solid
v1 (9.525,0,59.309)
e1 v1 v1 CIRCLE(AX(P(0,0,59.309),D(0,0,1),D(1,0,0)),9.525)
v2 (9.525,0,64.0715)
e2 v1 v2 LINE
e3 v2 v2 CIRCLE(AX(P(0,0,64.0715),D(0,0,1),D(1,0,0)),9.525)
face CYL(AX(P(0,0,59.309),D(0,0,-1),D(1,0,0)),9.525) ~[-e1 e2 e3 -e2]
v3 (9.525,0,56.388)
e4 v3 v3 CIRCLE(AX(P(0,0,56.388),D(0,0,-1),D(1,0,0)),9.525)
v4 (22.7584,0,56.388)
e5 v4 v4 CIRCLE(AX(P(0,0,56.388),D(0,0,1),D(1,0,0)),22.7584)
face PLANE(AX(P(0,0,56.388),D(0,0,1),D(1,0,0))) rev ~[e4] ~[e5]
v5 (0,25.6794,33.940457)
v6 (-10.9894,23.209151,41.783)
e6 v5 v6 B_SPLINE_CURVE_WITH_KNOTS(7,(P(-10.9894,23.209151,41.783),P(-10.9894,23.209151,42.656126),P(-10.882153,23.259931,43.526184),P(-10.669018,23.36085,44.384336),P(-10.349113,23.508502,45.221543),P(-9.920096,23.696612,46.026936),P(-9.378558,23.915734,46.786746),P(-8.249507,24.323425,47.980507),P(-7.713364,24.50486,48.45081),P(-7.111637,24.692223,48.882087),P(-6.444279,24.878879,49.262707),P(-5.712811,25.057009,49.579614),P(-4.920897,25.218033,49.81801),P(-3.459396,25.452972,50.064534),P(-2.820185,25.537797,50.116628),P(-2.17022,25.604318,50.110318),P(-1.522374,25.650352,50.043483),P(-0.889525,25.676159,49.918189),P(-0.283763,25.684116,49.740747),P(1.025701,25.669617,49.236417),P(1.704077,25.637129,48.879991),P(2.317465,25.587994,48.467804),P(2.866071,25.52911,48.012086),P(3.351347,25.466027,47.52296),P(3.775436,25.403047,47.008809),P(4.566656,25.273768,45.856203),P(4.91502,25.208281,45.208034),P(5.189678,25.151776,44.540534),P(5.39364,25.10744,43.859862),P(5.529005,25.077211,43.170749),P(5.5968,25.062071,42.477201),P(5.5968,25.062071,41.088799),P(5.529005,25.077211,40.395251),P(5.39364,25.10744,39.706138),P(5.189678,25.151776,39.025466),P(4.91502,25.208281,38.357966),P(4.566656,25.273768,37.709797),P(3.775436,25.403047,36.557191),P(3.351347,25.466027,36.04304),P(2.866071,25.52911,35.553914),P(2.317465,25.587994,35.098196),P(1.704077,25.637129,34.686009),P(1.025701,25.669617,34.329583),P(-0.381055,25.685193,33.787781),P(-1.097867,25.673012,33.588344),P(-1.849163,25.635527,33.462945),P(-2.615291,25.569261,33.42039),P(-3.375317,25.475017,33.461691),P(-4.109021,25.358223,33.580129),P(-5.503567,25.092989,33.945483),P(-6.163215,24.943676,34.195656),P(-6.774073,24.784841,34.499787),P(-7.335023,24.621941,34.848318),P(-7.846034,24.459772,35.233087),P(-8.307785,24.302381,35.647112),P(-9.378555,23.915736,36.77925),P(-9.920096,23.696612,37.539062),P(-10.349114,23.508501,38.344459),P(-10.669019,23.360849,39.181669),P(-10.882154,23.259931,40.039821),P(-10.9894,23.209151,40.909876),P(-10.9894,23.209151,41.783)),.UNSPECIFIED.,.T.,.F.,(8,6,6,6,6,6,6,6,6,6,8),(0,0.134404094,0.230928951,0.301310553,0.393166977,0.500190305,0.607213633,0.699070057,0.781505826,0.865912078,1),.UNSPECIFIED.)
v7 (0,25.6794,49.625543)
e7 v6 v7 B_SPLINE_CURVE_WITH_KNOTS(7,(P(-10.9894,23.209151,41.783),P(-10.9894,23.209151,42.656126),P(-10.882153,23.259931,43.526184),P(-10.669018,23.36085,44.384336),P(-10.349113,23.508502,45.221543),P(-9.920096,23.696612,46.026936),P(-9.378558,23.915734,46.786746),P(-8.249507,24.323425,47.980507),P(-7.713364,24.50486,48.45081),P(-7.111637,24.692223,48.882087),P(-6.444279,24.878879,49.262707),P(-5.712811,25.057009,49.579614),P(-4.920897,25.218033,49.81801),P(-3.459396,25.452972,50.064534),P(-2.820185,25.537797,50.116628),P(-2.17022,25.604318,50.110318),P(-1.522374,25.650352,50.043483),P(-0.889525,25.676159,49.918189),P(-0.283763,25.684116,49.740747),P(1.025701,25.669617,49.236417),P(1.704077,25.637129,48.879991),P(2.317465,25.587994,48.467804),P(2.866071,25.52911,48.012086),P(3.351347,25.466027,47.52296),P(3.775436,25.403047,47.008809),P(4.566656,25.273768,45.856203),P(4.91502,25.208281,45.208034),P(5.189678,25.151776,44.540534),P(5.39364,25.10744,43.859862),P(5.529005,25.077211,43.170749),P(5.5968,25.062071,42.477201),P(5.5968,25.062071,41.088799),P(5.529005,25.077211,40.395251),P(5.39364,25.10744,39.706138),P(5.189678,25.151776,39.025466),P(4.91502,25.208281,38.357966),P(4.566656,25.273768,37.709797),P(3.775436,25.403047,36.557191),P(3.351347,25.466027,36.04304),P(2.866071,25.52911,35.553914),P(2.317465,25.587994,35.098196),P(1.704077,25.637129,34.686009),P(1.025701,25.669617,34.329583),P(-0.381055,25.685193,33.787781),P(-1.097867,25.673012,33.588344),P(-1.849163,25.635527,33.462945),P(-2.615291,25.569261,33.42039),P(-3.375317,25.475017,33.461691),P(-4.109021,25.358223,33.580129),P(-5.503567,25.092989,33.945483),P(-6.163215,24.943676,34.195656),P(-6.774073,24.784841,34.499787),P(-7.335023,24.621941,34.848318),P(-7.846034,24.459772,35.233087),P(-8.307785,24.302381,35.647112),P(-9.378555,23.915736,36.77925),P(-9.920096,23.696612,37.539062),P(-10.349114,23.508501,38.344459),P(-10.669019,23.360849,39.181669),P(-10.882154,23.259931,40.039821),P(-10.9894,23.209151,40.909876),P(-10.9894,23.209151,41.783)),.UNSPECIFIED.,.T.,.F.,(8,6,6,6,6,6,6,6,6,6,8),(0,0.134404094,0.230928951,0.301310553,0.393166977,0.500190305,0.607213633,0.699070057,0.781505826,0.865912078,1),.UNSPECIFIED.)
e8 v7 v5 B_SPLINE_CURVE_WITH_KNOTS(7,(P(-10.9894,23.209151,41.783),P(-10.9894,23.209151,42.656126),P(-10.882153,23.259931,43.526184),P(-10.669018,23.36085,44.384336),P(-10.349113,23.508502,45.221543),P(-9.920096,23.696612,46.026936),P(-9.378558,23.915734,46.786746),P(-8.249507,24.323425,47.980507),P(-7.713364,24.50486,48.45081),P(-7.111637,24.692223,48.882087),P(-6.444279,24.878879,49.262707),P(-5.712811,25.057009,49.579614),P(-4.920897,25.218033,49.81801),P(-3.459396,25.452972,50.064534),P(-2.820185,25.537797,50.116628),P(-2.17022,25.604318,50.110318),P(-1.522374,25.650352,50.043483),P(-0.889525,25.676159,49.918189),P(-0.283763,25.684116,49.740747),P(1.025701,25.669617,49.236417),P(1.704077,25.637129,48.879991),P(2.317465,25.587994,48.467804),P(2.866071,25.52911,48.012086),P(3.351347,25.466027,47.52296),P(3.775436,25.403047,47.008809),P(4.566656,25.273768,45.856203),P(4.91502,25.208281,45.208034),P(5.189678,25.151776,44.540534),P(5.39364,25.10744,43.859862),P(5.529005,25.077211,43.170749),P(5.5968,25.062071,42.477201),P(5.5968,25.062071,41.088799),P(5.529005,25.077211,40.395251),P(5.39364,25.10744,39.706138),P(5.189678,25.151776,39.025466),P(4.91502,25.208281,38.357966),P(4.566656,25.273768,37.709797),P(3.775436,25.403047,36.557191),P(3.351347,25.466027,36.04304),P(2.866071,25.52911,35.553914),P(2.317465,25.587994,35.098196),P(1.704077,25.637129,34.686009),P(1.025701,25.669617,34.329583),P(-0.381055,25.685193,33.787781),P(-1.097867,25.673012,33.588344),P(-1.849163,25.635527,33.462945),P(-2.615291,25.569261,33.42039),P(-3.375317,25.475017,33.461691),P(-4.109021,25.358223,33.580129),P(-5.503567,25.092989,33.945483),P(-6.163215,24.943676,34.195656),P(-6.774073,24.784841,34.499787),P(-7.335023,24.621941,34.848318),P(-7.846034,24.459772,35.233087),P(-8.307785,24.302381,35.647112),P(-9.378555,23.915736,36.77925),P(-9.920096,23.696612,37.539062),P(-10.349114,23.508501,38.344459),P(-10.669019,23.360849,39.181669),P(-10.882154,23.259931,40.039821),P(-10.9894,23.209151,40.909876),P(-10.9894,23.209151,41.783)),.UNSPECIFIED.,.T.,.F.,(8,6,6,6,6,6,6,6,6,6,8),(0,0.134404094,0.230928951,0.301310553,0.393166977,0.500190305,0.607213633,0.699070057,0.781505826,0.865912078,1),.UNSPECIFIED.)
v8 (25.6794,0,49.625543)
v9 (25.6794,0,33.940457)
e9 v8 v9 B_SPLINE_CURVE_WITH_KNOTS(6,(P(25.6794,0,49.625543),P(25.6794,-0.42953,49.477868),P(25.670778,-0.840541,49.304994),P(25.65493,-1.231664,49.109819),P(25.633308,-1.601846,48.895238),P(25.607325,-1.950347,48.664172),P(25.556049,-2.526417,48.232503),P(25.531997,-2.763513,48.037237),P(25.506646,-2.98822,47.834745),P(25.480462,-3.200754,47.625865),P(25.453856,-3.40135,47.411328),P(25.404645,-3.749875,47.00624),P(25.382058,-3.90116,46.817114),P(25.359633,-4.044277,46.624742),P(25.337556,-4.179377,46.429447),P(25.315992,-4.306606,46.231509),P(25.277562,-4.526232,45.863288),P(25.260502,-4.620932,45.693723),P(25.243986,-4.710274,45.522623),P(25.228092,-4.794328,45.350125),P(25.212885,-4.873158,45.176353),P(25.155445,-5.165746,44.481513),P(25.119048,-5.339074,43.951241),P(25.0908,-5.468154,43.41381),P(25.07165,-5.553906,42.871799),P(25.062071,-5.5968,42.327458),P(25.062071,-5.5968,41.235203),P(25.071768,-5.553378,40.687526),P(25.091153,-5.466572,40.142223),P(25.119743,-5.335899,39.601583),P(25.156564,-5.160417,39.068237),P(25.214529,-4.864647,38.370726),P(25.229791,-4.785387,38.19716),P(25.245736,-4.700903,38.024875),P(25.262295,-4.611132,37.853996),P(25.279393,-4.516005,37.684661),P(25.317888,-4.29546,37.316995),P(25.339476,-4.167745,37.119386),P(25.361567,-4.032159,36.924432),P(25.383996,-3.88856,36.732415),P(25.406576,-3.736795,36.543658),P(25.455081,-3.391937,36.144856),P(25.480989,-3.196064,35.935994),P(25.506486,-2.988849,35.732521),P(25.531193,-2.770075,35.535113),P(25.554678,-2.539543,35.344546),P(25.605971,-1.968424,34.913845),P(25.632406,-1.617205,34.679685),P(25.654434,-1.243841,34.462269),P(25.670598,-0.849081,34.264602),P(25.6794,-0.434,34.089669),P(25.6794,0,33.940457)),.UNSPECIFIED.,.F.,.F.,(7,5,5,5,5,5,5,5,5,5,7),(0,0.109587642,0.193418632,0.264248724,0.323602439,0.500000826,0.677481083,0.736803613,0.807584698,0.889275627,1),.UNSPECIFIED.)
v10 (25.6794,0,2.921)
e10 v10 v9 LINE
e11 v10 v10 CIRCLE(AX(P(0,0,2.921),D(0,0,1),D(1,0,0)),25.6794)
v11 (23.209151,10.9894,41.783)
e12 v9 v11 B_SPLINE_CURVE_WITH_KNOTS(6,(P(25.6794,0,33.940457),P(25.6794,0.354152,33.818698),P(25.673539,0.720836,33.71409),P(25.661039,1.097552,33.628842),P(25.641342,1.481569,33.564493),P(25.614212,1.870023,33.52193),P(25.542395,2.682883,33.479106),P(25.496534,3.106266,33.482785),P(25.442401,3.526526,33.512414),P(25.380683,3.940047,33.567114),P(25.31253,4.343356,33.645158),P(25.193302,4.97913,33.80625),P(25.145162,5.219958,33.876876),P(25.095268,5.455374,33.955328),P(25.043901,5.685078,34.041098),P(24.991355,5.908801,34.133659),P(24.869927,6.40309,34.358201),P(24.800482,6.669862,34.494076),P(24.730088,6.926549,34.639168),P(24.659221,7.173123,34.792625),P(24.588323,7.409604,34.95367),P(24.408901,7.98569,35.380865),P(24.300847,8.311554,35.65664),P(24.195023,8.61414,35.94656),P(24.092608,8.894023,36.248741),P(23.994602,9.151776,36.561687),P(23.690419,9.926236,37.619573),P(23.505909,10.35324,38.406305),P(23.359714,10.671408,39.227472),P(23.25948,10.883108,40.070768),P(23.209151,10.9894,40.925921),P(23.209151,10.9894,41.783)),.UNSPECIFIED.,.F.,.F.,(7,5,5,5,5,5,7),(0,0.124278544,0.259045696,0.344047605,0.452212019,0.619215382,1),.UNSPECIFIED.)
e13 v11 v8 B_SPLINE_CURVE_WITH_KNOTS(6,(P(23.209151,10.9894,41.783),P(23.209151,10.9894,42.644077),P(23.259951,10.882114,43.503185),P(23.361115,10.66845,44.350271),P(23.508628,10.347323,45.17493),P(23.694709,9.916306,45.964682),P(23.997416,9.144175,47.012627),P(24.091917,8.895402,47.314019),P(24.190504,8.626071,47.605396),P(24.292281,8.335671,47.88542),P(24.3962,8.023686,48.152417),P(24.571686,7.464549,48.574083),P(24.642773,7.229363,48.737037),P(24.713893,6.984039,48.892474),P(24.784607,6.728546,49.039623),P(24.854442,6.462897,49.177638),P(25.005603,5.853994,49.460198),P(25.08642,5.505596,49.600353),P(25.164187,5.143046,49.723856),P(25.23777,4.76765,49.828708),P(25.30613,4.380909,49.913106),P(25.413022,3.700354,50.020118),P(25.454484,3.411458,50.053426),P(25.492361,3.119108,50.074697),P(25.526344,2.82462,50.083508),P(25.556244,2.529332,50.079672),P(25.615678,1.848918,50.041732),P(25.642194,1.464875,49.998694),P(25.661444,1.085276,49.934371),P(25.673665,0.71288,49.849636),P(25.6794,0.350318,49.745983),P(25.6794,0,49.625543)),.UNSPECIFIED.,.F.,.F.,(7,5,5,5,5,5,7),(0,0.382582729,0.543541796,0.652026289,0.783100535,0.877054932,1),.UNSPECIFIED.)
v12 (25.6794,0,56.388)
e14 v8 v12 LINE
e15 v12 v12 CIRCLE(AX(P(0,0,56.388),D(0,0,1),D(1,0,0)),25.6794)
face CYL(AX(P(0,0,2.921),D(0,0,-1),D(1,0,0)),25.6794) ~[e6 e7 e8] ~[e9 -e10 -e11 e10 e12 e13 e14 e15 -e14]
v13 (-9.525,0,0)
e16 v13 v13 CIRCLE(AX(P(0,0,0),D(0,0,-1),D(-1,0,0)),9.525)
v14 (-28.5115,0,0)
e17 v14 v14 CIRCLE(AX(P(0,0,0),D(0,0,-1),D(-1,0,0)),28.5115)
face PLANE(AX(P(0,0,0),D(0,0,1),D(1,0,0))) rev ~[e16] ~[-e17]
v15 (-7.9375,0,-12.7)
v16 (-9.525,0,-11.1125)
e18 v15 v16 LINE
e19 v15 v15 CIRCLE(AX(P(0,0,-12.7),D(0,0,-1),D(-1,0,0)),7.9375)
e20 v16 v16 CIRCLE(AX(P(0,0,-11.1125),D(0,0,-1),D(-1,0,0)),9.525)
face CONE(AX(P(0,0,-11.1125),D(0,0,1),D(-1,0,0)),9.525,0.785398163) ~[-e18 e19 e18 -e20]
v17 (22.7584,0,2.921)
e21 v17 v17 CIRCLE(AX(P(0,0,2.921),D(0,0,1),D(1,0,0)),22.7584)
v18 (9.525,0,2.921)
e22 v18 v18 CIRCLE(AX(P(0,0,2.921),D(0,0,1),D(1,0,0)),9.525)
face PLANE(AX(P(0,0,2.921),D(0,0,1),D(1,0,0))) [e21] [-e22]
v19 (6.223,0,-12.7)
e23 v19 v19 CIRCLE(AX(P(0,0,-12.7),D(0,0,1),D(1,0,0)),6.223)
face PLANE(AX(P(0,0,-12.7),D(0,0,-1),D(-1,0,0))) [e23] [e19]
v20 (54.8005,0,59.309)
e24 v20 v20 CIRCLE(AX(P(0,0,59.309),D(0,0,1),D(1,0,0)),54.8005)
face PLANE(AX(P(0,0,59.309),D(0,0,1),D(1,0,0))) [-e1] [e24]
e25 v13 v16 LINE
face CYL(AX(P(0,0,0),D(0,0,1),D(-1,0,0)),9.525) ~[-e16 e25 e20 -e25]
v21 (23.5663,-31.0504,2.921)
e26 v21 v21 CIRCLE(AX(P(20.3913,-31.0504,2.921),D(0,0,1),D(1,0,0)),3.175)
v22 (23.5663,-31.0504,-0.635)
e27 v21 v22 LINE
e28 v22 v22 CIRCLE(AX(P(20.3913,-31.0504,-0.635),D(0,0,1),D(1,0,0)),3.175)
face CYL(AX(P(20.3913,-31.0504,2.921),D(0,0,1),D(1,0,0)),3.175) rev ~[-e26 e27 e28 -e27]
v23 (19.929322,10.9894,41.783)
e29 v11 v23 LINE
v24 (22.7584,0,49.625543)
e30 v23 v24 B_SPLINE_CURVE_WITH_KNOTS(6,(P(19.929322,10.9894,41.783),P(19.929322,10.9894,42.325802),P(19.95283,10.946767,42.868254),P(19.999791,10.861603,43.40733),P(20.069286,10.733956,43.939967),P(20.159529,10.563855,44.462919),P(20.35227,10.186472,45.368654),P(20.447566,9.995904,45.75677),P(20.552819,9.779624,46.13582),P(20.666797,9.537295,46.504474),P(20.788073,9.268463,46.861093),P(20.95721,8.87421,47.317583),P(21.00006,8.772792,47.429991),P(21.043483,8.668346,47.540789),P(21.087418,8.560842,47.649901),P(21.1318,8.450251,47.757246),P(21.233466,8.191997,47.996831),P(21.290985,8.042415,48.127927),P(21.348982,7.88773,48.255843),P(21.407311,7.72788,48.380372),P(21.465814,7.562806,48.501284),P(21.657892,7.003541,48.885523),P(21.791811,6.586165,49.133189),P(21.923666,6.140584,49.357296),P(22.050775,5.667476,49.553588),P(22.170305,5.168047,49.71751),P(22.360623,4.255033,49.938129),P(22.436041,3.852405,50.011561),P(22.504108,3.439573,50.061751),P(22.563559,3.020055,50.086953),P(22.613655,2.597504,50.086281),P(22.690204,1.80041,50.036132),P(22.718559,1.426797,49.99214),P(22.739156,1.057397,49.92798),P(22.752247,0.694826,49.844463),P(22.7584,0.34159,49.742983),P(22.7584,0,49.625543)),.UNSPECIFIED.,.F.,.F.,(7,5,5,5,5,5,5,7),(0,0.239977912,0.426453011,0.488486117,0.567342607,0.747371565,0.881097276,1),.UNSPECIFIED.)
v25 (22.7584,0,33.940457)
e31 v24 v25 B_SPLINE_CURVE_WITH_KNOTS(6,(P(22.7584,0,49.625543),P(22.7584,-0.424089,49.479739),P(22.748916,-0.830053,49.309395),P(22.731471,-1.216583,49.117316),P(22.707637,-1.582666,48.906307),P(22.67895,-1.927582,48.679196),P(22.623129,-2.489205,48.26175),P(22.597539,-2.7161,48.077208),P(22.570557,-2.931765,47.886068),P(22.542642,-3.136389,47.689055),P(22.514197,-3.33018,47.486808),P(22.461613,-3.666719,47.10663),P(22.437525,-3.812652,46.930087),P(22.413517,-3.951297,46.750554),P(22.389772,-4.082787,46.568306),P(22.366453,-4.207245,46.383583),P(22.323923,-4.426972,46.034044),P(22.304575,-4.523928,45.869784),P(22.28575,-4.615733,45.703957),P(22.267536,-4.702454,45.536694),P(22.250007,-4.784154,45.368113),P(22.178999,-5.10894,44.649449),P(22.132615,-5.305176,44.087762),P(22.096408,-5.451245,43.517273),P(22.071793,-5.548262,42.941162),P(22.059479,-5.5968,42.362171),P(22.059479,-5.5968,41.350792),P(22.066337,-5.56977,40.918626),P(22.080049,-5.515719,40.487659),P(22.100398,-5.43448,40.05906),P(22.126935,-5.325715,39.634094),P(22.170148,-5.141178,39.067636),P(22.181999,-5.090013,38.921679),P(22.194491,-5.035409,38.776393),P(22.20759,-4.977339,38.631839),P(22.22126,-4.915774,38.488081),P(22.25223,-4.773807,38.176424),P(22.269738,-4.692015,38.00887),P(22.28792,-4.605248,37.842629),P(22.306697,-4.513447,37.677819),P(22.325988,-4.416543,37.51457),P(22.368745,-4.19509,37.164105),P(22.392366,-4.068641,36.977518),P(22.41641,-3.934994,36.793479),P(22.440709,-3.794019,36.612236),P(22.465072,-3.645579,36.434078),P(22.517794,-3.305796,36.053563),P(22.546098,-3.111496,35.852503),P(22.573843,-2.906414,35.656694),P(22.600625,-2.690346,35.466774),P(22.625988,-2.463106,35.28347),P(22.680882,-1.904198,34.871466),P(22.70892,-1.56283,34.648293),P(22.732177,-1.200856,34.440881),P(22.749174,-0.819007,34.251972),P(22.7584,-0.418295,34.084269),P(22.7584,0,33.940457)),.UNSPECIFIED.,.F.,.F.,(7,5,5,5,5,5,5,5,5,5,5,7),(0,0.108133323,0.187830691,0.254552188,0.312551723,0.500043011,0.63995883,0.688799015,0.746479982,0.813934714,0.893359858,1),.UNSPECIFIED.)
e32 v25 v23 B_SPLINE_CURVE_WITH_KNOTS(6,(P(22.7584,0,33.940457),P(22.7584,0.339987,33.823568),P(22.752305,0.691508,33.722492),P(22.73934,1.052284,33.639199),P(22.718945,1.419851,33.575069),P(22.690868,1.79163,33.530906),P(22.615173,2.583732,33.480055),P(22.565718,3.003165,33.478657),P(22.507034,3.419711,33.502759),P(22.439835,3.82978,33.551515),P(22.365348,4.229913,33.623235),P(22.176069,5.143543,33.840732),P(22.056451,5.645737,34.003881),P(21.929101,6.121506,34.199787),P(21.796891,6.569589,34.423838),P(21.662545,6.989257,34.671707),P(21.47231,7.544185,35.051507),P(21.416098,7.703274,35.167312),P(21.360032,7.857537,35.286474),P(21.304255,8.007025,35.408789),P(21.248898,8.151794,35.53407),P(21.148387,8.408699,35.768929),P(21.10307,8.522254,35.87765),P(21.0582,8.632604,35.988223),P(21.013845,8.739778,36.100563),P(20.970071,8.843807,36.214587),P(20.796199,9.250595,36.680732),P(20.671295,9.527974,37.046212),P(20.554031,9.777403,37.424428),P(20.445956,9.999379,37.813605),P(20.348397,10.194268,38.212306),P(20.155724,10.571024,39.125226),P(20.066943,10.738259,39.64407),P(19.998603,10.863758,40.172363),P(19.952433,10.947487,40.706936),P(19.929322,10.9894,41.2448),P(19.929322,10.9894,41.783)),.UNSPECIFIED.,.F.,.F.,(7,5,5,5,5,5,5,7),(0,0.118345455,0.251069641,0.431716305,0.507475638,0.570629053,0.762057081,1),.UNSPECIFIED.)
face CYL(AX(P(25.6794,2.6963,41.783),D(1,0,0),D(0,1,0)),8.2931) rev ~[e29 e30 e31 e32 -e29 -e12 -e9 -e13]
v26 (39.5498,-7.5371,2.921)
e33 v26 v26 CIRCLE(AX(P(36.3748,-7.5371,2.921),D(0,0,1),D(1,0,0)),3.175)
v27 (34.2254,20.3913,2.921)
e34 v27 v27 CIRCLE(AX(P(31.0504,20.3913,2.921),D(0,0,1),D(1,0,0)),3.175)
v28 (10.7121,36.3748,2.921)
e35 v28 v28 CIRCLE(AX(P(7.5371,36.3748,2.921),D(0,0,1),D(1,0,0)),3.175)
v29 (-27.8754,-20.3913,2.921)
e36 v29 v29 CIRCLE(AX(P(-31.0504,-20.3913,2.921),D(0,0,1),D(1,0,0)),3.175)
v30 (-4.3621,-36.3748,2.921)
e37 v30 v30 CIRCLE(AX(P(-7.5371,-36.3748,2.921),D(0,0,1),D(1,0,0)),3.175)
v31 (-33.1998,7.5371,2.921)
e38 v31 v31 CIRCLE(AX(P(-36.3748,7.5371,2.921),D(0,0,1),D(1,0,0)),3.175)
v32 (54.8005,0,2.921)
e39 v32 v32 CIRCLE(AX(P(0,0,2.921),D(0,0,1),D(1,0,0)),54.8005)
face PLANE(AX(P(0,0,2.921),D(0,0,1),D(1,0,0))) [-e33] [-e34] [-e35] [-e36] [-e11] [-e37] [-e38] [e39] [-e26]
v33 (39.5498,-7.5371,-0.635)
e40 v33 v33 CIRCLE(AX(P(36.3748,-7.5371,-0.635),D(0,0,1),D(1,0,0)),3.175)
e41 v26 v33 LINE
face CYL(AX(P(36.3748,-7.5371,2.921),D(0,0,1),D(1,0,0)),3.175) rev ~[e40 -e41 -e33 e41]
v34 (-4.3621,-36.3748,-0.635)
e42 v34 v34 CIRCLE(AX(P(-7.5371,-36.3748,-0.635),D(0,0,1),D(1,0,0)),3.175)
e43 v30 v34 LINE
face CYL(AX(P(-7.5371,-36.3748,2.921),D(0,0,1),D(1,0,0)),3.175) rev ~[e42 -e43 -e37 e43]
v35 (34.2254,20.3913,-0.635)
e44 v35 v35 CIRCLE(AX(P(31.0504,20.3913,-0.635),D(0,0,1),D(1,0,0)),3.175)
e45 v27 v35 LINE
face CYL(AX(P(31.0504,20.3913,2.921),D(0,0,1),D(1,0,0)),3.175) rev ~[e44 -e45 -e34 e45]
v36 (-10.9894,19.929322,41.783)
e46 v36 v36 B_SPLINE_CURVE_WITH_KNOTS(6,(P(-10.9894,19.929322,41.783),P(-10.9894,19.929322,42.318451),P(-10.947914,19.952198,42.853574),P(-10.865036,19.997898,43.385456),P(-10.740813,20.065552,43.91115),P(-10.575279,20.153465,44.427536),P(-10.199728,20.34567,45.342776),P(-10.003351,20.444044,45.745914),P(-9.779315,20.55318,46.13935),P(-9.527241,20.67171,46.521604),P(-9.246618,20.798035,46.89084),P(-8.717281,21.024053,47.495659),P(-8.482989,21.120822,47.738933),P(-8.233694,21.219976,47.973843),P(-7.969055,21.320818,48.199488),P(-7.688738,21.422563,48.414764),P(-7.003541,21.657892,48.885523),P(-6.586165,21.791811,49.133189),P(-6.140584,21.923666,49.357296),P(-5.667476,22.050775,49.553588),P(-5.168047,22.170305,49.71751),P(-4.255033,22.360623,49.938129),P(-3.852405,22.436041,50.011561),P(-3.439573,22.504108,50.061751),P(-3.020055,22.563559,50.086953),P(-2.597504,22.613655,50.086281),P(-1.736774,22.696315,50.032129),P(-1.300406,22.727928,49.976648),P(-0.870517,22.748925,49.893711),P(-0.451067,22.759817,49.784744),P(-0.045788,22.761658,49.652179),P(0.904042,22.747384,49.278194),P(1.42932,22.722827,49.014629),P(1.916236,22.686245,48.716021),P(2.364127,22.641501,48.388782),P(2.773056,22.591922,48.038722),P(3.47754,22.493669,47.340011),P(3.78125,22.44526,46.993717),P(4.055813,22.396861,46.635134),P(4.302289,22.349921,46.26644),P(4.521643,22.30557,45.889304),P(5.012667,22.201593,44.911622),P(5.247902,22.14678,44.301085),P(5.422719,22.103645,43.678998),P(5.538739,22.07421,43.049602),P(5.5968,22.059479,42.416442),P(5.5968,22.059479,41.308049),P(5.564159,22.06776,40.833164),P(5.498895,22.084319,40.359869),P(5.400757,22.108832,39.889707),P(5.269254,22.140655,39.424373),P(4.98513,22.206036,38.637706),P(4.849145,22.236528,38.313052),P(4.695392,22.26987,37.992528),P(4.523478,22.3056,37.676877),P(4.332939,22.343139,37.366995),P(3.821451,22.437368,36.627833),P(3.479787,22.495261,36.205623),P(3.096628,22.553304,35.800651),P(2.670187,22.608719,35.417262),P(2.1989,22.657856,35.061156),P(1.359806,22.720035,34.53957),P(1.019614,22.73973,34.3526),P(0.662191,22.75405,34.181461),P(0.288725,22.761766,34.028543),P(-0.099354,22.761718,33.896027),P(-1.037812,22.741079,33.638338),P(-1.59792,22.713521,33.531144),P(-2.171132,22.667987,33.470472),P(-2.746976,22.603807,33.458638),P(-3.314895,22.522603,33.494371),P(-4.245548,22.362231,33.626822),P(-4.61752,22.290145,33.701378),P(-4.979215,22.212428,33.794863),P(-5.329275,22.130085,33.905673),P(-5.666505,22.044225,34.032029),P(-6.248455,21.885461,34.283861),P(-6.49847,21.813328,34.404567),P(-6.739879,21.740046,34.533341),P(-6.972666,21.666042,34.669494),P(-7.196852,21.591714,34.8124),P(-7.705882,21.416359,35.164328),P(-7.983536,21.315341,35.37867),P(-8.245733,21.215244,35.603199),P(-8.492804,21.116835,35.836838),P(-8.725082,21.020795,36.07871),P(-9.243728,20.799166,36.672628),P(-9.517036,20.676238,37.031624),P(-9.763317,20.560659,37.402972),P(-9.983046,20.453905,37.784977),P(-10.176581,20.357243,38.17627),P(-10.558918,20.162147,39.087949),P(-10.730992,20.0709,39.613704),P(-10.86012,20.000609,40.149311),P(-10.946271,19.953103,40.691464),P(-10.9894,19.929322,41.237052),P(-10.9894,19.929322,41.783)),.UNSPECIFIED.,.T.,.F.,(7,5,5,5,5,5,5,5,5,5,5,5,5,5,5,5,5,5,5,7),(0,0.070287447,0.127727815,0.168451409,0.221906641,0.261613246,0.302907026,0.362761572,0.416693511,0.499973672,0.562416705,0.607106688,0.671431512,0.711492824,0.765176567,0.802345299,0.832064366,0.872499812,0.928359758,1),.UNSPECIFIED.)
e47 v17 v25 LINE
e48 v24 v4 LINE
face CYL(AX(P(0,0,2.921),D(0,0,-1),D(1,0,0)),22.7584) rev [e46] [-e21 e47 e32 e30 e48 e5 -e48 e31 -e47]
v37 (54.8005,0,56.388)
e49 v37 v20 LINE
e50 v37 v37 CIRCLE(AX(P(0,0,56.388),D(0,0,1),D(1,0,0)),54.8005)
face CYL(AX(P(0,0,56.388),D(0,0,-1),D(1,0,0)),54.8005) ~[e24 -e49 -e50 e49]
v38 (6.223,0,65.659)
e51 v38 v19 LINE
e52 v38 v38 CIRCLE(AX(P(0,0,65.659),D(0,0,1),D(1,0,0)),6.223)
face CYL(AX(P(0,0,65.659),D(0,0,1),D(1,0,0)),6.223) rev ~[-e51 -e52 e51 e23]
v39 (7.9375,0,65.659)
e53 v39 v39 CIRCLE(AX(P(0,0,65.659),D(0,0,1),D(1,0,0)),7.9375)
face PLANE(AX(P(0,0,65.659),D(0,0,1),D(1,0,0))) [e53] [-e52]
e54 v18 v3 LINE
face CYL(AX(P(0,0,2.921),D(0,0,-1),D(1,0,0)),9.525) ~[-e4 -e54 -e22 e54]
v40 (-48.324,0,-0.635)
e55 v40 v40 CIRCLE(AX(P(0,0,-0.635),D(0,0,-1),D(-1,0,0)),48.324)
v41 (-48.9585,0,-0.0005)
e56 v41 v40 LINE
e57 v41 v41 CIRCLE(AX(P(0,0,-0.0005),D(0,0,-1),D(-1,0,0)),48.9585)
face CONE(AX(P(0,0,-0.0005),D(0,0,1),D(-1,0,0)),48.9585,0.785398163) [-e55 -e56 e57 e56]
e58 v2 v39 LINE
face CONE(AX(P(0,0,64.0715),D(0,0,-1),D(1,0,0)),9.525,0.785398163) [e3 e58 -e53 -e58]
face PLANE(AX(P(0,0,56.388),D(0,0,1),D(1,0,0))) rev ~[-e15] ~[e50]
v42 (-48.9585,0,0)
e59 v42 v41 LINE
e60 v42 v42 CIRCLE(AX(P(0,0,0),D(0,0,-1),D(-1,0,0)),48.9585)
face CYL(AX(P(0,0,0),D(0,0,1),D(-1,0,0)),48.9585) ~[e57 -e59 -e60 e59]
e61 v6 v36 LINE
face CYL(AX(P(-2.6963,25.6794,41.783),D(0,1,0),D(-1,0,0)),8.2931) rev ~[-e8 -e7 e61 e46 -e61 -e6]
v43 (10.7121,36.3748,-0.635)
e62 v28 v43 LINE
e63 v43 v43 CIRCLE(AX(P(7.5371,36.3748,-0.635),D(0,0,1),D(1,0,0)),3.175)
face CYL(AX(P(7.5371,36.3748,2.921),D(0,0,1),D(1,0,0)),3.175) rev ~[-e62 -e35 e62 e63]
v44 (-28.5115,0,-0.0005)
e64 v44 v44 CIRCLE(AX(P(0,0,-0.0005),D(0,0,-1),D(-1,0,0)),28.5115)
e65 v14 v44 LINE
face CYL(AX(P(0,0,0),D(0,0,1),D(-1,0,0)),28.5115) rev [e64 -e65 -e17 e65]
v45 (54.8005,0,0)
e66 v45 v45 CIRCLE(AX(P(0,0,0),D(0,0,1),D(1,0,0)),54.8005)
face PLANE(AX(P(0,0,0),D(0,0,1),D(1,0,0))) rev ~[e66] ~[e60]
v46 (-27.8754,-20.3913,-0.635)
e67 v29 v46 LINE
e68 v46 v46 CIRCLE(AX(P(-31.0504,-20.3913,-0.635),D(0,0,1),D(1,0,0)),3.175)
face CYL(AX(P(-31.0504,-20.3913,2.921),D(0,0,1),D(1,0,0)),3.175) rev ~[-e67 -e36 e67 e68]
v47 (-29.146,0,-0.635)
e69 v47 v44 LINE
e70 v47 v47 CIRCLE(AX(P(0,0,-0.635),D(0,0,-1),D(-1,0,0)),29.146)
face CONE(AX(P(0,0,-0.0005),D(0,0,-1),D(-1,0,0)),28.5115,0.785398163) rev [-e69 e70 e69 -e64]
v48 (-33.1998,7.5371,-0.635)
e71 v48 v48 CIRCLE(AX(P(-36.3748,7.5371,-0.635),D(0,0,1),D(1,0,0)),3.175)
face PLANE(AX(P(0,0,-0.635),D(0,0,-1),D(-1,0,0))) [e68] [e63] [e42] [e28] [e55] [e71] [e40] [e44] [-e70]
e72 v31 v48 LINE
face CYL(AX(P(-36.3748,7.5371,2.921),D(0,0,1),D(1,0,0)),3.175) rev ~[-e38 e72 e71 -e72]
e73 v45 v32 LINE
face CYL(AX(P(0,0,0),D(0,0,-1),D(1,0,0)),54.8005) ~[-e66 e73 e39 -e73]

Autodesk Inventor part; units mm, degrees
ref_plane "XZ Plane" through (0, 0, 0) normal (0, 1, 0) x (-1, 0, 0)
ref_plane "XY Plane" through (0, 0, 0) normal (0, 0, 1) x (1, 0, 0)
sketch "Sketch1" plane through (0, 0, 0) normal (0, 0, 1) x (1, 0, 0)
  circle A0 centre (0, 0) radius 54.8005
  dimension "d0" = 109.601
extrude "Extrusion1" add sketch "Sketch1" along normal blind 2.921
sketch "Sketch2" plane through (0, 0, 2.921) normal (0, 0, 1) x (1, 0, 0)
  circle A0 centre (0, 0) radius 54.8005 projected
  circle A1 centre (0, 0) radius 25.6794
  circle A2 centre (0, 0) radius 22.7584
  dimension "d3" = 51.3588
  dimension "d17" = 2.921
extrude "Extrusion2" add sketch "Sketch2" along normal blind 53.467 contours A1
sketch "Sketch3" plane through (0, 0, 56.388) normal (0, 0, 1) x (1, 0, 0)
  circle A0 centre (0, 0) radius 25.6794 projected
  circle A1 centre (0, 0) radius 54.8005 projected
  circle A2 centre (0, 0) radius 54.8005
extrude "Extrusion3" add sketch "Sketch3" along normal blind 2.921 contours A0 | A1
sketch "Sketch4" plane through (0, 0, 59.309) normal (0, 0, 1) x (1, 0, 0)
  circle A0 centre (0, 0) radius 54.8005 projected
  circle A1 centre (0, 0) radius 9.525
  dimension "d8" = 19.05
extrude "Extrusion4" add sketch "Sketch4" along normal blind 6.35 contours A1
sketch "Sketch5" plane through (0, 0, 65.659) normal (0, 0, 1) x (1, 0, 0)
  circle A0 centre (0, 0) radius 9.525 projected
  circle A1 centre (0, 0) radius 6.223
  dimension "d11" = 12.446
sketch "Sketch6" plane through (0, 0, 0) normal (0, 0, -1) x (-1, 0, 0)
  circle A0 centre (0, 0) radius 9.525 projected
  circle A1 centre (0, 0) radius 9.525 projected
  circle A2 centre (0, 0) radius 9.525
  dimension "d12" = 19.05
extrude "Extrusion5" add sketch "Sketch6" along normal blind 12.7
extrude "Extrusion6" cut sketch "Sketch5" against normal through all contours A1
sketch "Sketch7" plane through (0, 0, 2.921) normal (0, 0, 1) x (1, 0, 0)
  circle A0 centre (0, 0) radius 6.223 projected
  circle A1 centre (0, 0) radius 6.223 projected
  circle A2 centre (0, 0) radius 9.525 projected
extrude "Extrusion7" add sketch "Sketch7" along normal through all
chamfer "Chamfer1" distance 1.5875 angle 45 2 edges at (-9.525, 0, 65.659) (9.525, 0, -12.7)
ref_plane "Work Plane1" through (25.6794, 0, 2.921) normal (1, 0, 0) x (0, 1, 0)
sketch "Sketch8" plane through (25.6794, 0, 2.921) normal (1, 0, 0) x (0, 1, 0)
  line L0 (-54.8005, 53.467) -> (54.8005, 53.467) projected
  line L1 (-25.6794, 53.467) -> (25.6794, 53.467) projected
  line L2 (-54.8005, 0) -> (54.8005, 0) projected
  line L3 (-25.6794, 0) -> (25.6794, 0) projected
  circle A0 centre (2.6963, 38.862) radius 8.2931
  point P0 (0, -2.921)
  dimension "d23" = 14.605
  dimension "d24" = 16.5862
extrude "Extrusion8" cut sketch "Sketch8" against normal blind 12.7
pattern_circular "Circular Pattern1" count 2 over 90 about axis through (0, 0, 2.921) along (0, 0, 1) of "Extrusion8"
sketch "Sketch9" plane through (0, 0, 0) normal (0, 0, -1) x (-1, 0, 0)
  circle A0 centre (0, 0) radius 54.8005 projected
  circle A1 centre (0, 0) radius 28.5115
  circle A2 centre (0, 0) radius 48.9585
  dimension "d30" = 57.023
  dimension "d31" = 97.917
extrude "Extrusion9" add sketch "Sketch9" along normal blind 0.635 contours A2
chamfer "Chamfer2" distance 0.635 angle 45 2 edges at (48.9585, 0, -0.635) (28.5115, 0, -0.635)
sketch "Sketch12" plane through (0, 0, 2.921) normal (0, 0, 1) x (1, 0, 0)
  circle A0 centre (0, 0) radius 28.5115 projected
  circle A1 centre (31.0504, 20.3913) radius 3.175 projected
  circle A2 centre (-31.0504, -20.3913) radius 3.175 projected
  circle A3 centre (20.3913, -31.0504) radius 3.175 projected
  circle A4 centre (-36.3748, 7.5371) radius 3.175 projected
  circle A5 centre (7.5371, 36.3748) radius 3.175 projected
  circle A6 centre (36.3748, -7.5371) radius 3.175 projected
  circle A7 centre (-7.5371, -36.3748) radius 3.175 projected
  arc A8 (19.7771, 37.7111) -> (20.5429, 44.5183) centre (-8.1746, 44.3026) ccw projected
  arc A9 (21.6617, 36.661) -> (19.7771, 37.7111) centre (0, 0) ccw projected
  arc A10 (27.0474, 40.8941) -> (21.6617, 36.661) centre (41.9748, 16.3602) ccw projected
  arc A11 (29.0839, 39.4717) -> (27.0474, 40.8941) centre (0, 0) ccw projected
  arc A12 (26.9634, 32.958) -> (29.0839, 39.4717) centre (0.9108, 45.0412) ccw projected
  arc A13 (28.5981, 31.55) -> (26.9634, 32.958) centre (0, 0) ccw projected
  arc A14 (34.7256, 34.6124) -> (28.5981, 31.55) centre (44.4089, 7.5758) ccw projected
  arc A15 (36.4341, 32.8092) -> (34.7256, 34.6124) centre (0, 0) ccw projected
  arc A16 (33.0459, 26.8557) -> (36.4341, 32.8092) centre (9.9589, 43.9359) ccw projected
  arc A17 (34.3637, 25.1474) -> (33.0459, 26.8557) centre (0, 0) ccw projected
  arc A18 (40.9822, 26.9137) -> (34.3637, 25.1474) centre (45.0248, -1.5187) ccw projected
  arc A19 (42.2928, 24.8034) -> (40.9822, 26.9137) centre (0, 0) ccw projected
  arc A20 (37.7754, 19.6538) -> (42.2928, 24.8034) centre (18.5992, 41.0318) ccw projected
  arc A21 (38.7224, 17.7153) -> (37.7754, 19.6538) centre (0, 0) ccw projected
  arc A22 (45.561, 18.1131) -> (38.7224, 17.7153) centre (43.7975, -10.551) ccw projected
  arc A23 (46.4199, 15.7822) -> (45.561, 18.1131) centre (0, 0) ccw projected
  arc A24 (40.9585, 11.6474) -> (46.4199, 15.7822) centre (26.4782, 36.4479) ccw projected
  arc A25 (41.4958, 9.5579) -> (40.9585, 11.6474) centre (0, 0) ccw projected
  arc A26 (48.2745, 8.571) -> (41.4958, 9.5579) centre (40.777, -19.1514) ccw projected
  arc A27 (48.6467, 6.1149) -> (48.2745, 8.571) centre (0, 0) ccw projected
  arc A28 (42.4646, 3.1641) -> (48.6467, 6.1149) centre (33.2731, 30.3718) ccw projected
  arc A29 (42.5704, 1.0092) -> (42.4646, 3.1641) centre (0, 0) ccw projected
  arc A30 (49.0116, -1.3221) -> (42.5704, 1.0092) centre (36.0871, -26.9677) ccw projected
  arc A31 (48.8818, -3.8028) -> (49.0116, -1.3221) centre (0, 0) ccw projected
  arc A32 (42.2323, -5.4487) -> (48.8818, -3.8028) centre (38.7058, 23.0522) ccw projected
  arc A33 (41.9021, -7.5808) -> (42.2323, -5.4487) centre (0, 0) ccw projected
  arc A34 (47.7422, -11.161) -> (41.9021, -7.5808) centre (29.9199, -33.68) ccw projected
  arc A35 (47.1157, -13.5648) -> (47.7422, -11.161) centre (0, 0) ccw projected
  arc A36 (40.271, -13.8385) -> (47.1157, -13.5648) centre (42.5538, 14.789) ccw projected
  arc A37 (39.5184, -15.8604) -> (40.271, -13.8385) centre (0, 0) ccw projected
  arc A38 (44.5183, -20.543) -> (39.5184, -15.8604) centre (22.5277, -39.0134) ccw projected
  arc A39 (43.4206, -22.7714) -> (44.5183, -20.543) centre (0, 0) ccw projected
  arc A40 (36.661, -21.6617) -> (43.4206, -22.7714) centre (44.6597, 5.9202) ccw projected
  arc A41 (35.5168, -23.4908) -> (36.661, -21.6617) centre (0, 0) ccw projected
  arc A42 (39.4717, -29.0839) -> (35.5168, -23.4908) centre (14.2132, -42.7496) ccw projected
  arc A43 (37.948, -31.0458) -> (39.4717, -29.0839) centre (0, 0) ccw projected
  arc A44 (31.55, -28.5981) -> (37.948, -31.0458) centre (44.9373, -3.1909) ccw projected
  arc A45 (30.0611, -30.1594) -> (31.55, -28.5981) centre (0, 0) ccw projected
  arc A46 (32.8092, -36.4341) -> (30.0611, -30.1594) centre (5.3168, -44.7356) ccw projected
  arc A47 (30.9217, -38.0491) -> (32.8092, -36.4341) centre (0, 0) ccw projected
  arc A48 (25.1475, -34.3637) -> (30.9217, -38.0491) centre (43.3751, -12.1714) ccw projected
  arc A49 (23.3747, -35.5933) -> (25.1475, -34.3637) centre (0, 0) ccw projected
  arc A50 (24.8034, -42.2928) -> (23.3747, -35.5933) centre (-3.7972, -44.8901) ccw projected
  arc A51 (22.6295, -43.4948) -> (24.8034, -42.2928) centre (0, 0) ccw projected
  arc A52 (17.7153, -38.7224) -> (22.6295, -43.4948) centre (40.0371, -20.6536) ccw projected
  arc A53 (15.7313, -39.57) -> (17.7153, -38.7224) centre (0, 0) ccw projected
  arc A54 (15.7822, -46.4199) -> (15.7313, -39.57) centre (-12.7558, -43.2068) ccw projected
  arc A55 (13.4108, -47.1597) -> (15.7822, -46.4199) centre (0, 0) ccw projected
  arc A56 (9.5579, -41.4958) -> (13.4108, -47.1597) centre (35.06, -28.2902) ccw projected
  arc A57 (7.4439, -41.9267) -> (9.5579, -41.4958) centre (0, 0) ccw projected
  arc A58 (6.1149, -48.6467) -> (7.4439, -41.9267) centre (-21.1922, -39.7547) ccw projected
  arc A59 (3.6431, -48.8939) -> (6.1149, -48.6467) centre (0, 0) ccw projected
  arc A60 (1.0092, -42.5704) -> (3.6431, -48.8939) centre (28.6475, -34.7687) ccw projected
  arc A61 (-1.1482, -42.5669) -> (1.0092, -42.5704) centre (0, 0) ccw projected
  arc A62 (-3.8028, -48.8818) -> (-1.1482, -42.5669) centre (-28.7609, -34.6749) ccw projected
  arc A63 (-6.2737, -48.6264) -> (-3.8028, -48.8818) centre (0, 0) ccw projected
  arc A64 (-7.5808, -41.9021) -> (-6.2737, -48.6264) centre (21.0622, -39.8237) ccw projected
  arc A65 (-9.6934, -41.4644) -> (-7.5808, -41.9021) centre (0, 0) ccw projected
  arc A66 (-13.5648, -47.1157) -> (-9.6934, -41.4644) centre (-35.1522, -28.1756) ccw projected
  arc A67 (-15.9337, -46.3682) -> (-13.5648, -47.1157) centre (0, 0) ccw projected
  arc A68 (-15.8604, -39.5184) -> (-15.9337, -46.3682) centre (12.6147, -43.2483) ccw projected
  arc A69 (-17.8417, -38.6644) -> (-15.8604, -39.5184) centre (0, 0) ccw projected
  arc A70 (-22.7714, -43.4207) -> (-17.8417, -38.6644) centre (-40.1043, -20.5228) ccw projected
  arc A71 (-24.9414, -42.2116) -> (-22.7714, -43.4207) centre (0, 0) ccw projected
  arc A72 (-23.4908, -35.5168) -> (-24.9414, -42.2116) centre (3.6506, -44.9023) ccw projected
  arc A73 (-25.2595, -34.2814) -> (-23.4908, -35.5168) centre (0, 0) ccw projected
  arc A74 (-31.0458, -37.948) -> (-25.2595, -34.2814) centre (-43.4146, -12.0297) ccw projected
  arc A75 (-32.928, -36.3268) -> (-31.0458, -37.948) centre (0, 0) ccw projected
  arc A76 (-30.1594, -30.0611) -> (-32.928, -36.3268) centre (-5.4629, -44.718) ccw projected
  arc A77 (-31.6432, -28.4949) -> (-30.1594, -30.0611) centre (0, 0) ccw projected
  arc A78 (-38.0491, -30.9217) -> (-31.6432, -28.4949) centre (-44.9475, -3.0442) ccw projected
  arc A79 (-39.5665, -28.9549) -> (-38.0491, -30.9217) centre (0, 0) ccw projected
  arc A80 (-35.5933, -23.3747) -> (-39.5665, -28.9549) centre (-14.3527, -42.7029) ccw projected
  arc A81 (-36.7315, -21.5419) -> (-35.5933, -23.3747) centre (0, 0) ccw projected
  arc A82 (-43.4948, -22.6295) -> (-36.7315, -21.5419) centre (-44.6402, 6.066) ccw projected
  arc A83 (-44.5851, -20.3975) -> (-43.4948, -22.6295) centre (0, 0) ccw projected
  arc A84 (-39.57, -15.7313) -> (-44.5851, -20.3975) centre (-22.6549, -38.9396) ccw projected
  arc A85 (-40.316, -13.707) -> (-39.57, -15.7313) centre (0, 0) ccw projected
  arc A86 (-47.1597, -13.4108) -> (-40.316, -13.707) centre (-42.5053, 14.9278) ccw projected
  arc A87 (-47.7784, -11.005) -> (-47.1597, -13.4108) centre (0, 0) ccw projected
  arc A88 (-41.9267, -7.4439) -> (-47.7784, -11.005) centre (-30.0297, -33.5821) ccw projected
  arc A89 (-42.2499, -5.3108) -> (-41.9267, -7.4439) centre (0, 0) ccw projected
  arc A90 (-48.8939, -3.6431) -> (-42.2499, -5.3108) centre (-38.6303, 23.1785) ccw projected
  arc A91 (-49.0157, -1.162) -> (-48.8939, -3.6431) centre (0, 0) ccw projected
  arc A92 (-42.5669, 1.1482) -> (-49.0157, -1.162) centre (-36.175, -26.8498) ccw projected
  arc A93 (-42.4541, 3.3027) -> (-42.5669, 1.1482) centre (0, 0) ccw projected
  arc A94 (-48.6264, 6.2737) -> (-42.4541, 3.3027) centre (-33.1737, 30.4803) ccw projected
  arc A95 (-48.2463, 8.7285) -> (-48.6264, 6.2737) centre (0, 0) ccw projected
  arc A96 (-41.4644, 9.6934) -> (-48.2463, 8.7285) centre (-40.8393, -19.0182) ccw projected
  arc A97 (-40.9202, 11.7811) -> (-41.4644, 9.6934) centre (0, 0) ccw projected
  arc A98 (-46.3682, 15.9337) -> (-40.9202, 11.7811) centre (-26.359, 36.5341) ccw projected
  arc A99 (-45.5016, 18.2618) -> (-46.3682, 15.9337) centre (0, 0) ccw projected
  arc A100 (-38.6644, 17.8417) -> (-45.5016, 18.2618) centre (-43.8317, -10.408) ccw projected
  arc A101 (-37.7111, 19.7771) -> (-38.6644, 17.8417) centre (0, 0) ccw projected
  arc A102 (-42.2116, 24.9414) -> (-37.7111, 19.7771) centre (-18.4652, 41.0923) ccw projected
  arc A103 (-40.8941, 27.0474) -> (-42.2116, 24.9414) centre (0, 0) ccw projected
  arc A104 (-34.2814, 25.2595) -> (-40.8941, 27.0474) centre (-45.0295, -1.3717) ccw projected
  arc A105 (-32.958, 26.9634) -> (-34.2814, 25.2595) centre (0, 0) ccw projected
  arc A106 (-36.3268, 32.928) -> (-32.958, 26.9634) centre (-9.8154, 43.9682) ccw projected
  arc A107 (-34.6124, 34.7256) -> (-36.3268, 32.928) centre (0, 0) ccw projected
  arc A108 (-28.4949, 31.6432) -> (-34.6124, 34.7256) centre (-44.3839, 7.7208) ccw projected
  arc A109 (-26.8557, 33.0459) -> (-28.4949, 31.6432) centre (0, 0) ccw projected
  arc A110 (-28.9549, 39.5665) -> (-26.8557, 33.0459) centre (-0.7637, 45.044) ccw projected
  arc A111 (-26.9137, 40.9822) -> (-28.9549, 39.5665) centre (0, 0) ccw projected
  arc A112 (-21.5419, 36.7315) -> (-26.9137, 40.9822) centre (-41.9212, 16.4971) ccw projected
  arc A113 (-19.6538, 37.7754) -> (-21.5419, 36.7315) centre (0, 0) ccw projected
  arc A114 (-20.3975, 44.5851) -> (-19.6538, 37.7754) centre (8.3192, 44.2756) ccw projected
  arc A115 (-18.1131, 45.561) -> (-20.3975, 44.5851) centre (0, 0) ccw projected
  arc A116 (-13.707, 40.316) -> (-18.1131, 45.561) centre (-37.7422, 24.5981) ccw projected
  arc A117 (-11.6474, 40.9585) -> (-13.707, 40.316) centre (0, 0) ccw projected
  arc A118 (-11.005, 47.7784) -> (-11.6474, 40.9585) centre (17.0615, 41.6947) ccw projected
  arc A119 (-8.571, 48.2745) -> (-11.005, 47.7784) centre (0, 0) ccw projected
  arc A120 (-5.3108, 42.2499) -> (-8.571, 48.2745) centre (-32.018, 31.692) ccw projected
  arc A121 (-3.1641, 42.4646) -> (-5.3108, 42.2499) centre (0, 0) ccw projected
  arc A122 (-1.162, 49.0157) -> (-3.1641, 42.4646) centre (25.1053, 37.4067) ccw projected
  arc A123 (1.3221, 49.0116) -> (-1.162, 49.0157) centre (0, 0) ccw projected
  arc A124 (3.3027, 42.4541) -> (1.3221, 49.0116) centre (-24.9831, 37.4885) ccw projected
  arc A125 (5.4487, 42.2323) -> (3.3027, 42.4541) centre (0, 0) ccw projected
  arc A126 (8.7285, 48.2463) -> (5.4487, 42.2323) centre (32.1214, 31.5873) ccw projected
  arc A127 (11.161, 47.7422) -> (8.7285, 48.2463) centre (0, 0) ccw projected
  arc A128 (11.7811, 40.9202) -> (11.161, 47.7422) centre (-16.9253, 41.7502) ccw projected
  arc A129 (13.8385, 40.271) -> (11.7811, 40.9202) centre (0, 0) ccw projected
  arc A130 (18.2618, 45.5016) -> (13.8385, 40.271) centre (37.8223, 24.4748) ccw projected
  arc A131 (20.5429, 44.5183) -> (18.2618, 45.5016) centre (0, 0) ccw projected
extrude "Extrusion11" cut sketch "Sketch12" against normal blind 25.4 contours A1 | A2 | A3 | A4 | A5 | A6 | A7
properties part number "Spool 1764"
